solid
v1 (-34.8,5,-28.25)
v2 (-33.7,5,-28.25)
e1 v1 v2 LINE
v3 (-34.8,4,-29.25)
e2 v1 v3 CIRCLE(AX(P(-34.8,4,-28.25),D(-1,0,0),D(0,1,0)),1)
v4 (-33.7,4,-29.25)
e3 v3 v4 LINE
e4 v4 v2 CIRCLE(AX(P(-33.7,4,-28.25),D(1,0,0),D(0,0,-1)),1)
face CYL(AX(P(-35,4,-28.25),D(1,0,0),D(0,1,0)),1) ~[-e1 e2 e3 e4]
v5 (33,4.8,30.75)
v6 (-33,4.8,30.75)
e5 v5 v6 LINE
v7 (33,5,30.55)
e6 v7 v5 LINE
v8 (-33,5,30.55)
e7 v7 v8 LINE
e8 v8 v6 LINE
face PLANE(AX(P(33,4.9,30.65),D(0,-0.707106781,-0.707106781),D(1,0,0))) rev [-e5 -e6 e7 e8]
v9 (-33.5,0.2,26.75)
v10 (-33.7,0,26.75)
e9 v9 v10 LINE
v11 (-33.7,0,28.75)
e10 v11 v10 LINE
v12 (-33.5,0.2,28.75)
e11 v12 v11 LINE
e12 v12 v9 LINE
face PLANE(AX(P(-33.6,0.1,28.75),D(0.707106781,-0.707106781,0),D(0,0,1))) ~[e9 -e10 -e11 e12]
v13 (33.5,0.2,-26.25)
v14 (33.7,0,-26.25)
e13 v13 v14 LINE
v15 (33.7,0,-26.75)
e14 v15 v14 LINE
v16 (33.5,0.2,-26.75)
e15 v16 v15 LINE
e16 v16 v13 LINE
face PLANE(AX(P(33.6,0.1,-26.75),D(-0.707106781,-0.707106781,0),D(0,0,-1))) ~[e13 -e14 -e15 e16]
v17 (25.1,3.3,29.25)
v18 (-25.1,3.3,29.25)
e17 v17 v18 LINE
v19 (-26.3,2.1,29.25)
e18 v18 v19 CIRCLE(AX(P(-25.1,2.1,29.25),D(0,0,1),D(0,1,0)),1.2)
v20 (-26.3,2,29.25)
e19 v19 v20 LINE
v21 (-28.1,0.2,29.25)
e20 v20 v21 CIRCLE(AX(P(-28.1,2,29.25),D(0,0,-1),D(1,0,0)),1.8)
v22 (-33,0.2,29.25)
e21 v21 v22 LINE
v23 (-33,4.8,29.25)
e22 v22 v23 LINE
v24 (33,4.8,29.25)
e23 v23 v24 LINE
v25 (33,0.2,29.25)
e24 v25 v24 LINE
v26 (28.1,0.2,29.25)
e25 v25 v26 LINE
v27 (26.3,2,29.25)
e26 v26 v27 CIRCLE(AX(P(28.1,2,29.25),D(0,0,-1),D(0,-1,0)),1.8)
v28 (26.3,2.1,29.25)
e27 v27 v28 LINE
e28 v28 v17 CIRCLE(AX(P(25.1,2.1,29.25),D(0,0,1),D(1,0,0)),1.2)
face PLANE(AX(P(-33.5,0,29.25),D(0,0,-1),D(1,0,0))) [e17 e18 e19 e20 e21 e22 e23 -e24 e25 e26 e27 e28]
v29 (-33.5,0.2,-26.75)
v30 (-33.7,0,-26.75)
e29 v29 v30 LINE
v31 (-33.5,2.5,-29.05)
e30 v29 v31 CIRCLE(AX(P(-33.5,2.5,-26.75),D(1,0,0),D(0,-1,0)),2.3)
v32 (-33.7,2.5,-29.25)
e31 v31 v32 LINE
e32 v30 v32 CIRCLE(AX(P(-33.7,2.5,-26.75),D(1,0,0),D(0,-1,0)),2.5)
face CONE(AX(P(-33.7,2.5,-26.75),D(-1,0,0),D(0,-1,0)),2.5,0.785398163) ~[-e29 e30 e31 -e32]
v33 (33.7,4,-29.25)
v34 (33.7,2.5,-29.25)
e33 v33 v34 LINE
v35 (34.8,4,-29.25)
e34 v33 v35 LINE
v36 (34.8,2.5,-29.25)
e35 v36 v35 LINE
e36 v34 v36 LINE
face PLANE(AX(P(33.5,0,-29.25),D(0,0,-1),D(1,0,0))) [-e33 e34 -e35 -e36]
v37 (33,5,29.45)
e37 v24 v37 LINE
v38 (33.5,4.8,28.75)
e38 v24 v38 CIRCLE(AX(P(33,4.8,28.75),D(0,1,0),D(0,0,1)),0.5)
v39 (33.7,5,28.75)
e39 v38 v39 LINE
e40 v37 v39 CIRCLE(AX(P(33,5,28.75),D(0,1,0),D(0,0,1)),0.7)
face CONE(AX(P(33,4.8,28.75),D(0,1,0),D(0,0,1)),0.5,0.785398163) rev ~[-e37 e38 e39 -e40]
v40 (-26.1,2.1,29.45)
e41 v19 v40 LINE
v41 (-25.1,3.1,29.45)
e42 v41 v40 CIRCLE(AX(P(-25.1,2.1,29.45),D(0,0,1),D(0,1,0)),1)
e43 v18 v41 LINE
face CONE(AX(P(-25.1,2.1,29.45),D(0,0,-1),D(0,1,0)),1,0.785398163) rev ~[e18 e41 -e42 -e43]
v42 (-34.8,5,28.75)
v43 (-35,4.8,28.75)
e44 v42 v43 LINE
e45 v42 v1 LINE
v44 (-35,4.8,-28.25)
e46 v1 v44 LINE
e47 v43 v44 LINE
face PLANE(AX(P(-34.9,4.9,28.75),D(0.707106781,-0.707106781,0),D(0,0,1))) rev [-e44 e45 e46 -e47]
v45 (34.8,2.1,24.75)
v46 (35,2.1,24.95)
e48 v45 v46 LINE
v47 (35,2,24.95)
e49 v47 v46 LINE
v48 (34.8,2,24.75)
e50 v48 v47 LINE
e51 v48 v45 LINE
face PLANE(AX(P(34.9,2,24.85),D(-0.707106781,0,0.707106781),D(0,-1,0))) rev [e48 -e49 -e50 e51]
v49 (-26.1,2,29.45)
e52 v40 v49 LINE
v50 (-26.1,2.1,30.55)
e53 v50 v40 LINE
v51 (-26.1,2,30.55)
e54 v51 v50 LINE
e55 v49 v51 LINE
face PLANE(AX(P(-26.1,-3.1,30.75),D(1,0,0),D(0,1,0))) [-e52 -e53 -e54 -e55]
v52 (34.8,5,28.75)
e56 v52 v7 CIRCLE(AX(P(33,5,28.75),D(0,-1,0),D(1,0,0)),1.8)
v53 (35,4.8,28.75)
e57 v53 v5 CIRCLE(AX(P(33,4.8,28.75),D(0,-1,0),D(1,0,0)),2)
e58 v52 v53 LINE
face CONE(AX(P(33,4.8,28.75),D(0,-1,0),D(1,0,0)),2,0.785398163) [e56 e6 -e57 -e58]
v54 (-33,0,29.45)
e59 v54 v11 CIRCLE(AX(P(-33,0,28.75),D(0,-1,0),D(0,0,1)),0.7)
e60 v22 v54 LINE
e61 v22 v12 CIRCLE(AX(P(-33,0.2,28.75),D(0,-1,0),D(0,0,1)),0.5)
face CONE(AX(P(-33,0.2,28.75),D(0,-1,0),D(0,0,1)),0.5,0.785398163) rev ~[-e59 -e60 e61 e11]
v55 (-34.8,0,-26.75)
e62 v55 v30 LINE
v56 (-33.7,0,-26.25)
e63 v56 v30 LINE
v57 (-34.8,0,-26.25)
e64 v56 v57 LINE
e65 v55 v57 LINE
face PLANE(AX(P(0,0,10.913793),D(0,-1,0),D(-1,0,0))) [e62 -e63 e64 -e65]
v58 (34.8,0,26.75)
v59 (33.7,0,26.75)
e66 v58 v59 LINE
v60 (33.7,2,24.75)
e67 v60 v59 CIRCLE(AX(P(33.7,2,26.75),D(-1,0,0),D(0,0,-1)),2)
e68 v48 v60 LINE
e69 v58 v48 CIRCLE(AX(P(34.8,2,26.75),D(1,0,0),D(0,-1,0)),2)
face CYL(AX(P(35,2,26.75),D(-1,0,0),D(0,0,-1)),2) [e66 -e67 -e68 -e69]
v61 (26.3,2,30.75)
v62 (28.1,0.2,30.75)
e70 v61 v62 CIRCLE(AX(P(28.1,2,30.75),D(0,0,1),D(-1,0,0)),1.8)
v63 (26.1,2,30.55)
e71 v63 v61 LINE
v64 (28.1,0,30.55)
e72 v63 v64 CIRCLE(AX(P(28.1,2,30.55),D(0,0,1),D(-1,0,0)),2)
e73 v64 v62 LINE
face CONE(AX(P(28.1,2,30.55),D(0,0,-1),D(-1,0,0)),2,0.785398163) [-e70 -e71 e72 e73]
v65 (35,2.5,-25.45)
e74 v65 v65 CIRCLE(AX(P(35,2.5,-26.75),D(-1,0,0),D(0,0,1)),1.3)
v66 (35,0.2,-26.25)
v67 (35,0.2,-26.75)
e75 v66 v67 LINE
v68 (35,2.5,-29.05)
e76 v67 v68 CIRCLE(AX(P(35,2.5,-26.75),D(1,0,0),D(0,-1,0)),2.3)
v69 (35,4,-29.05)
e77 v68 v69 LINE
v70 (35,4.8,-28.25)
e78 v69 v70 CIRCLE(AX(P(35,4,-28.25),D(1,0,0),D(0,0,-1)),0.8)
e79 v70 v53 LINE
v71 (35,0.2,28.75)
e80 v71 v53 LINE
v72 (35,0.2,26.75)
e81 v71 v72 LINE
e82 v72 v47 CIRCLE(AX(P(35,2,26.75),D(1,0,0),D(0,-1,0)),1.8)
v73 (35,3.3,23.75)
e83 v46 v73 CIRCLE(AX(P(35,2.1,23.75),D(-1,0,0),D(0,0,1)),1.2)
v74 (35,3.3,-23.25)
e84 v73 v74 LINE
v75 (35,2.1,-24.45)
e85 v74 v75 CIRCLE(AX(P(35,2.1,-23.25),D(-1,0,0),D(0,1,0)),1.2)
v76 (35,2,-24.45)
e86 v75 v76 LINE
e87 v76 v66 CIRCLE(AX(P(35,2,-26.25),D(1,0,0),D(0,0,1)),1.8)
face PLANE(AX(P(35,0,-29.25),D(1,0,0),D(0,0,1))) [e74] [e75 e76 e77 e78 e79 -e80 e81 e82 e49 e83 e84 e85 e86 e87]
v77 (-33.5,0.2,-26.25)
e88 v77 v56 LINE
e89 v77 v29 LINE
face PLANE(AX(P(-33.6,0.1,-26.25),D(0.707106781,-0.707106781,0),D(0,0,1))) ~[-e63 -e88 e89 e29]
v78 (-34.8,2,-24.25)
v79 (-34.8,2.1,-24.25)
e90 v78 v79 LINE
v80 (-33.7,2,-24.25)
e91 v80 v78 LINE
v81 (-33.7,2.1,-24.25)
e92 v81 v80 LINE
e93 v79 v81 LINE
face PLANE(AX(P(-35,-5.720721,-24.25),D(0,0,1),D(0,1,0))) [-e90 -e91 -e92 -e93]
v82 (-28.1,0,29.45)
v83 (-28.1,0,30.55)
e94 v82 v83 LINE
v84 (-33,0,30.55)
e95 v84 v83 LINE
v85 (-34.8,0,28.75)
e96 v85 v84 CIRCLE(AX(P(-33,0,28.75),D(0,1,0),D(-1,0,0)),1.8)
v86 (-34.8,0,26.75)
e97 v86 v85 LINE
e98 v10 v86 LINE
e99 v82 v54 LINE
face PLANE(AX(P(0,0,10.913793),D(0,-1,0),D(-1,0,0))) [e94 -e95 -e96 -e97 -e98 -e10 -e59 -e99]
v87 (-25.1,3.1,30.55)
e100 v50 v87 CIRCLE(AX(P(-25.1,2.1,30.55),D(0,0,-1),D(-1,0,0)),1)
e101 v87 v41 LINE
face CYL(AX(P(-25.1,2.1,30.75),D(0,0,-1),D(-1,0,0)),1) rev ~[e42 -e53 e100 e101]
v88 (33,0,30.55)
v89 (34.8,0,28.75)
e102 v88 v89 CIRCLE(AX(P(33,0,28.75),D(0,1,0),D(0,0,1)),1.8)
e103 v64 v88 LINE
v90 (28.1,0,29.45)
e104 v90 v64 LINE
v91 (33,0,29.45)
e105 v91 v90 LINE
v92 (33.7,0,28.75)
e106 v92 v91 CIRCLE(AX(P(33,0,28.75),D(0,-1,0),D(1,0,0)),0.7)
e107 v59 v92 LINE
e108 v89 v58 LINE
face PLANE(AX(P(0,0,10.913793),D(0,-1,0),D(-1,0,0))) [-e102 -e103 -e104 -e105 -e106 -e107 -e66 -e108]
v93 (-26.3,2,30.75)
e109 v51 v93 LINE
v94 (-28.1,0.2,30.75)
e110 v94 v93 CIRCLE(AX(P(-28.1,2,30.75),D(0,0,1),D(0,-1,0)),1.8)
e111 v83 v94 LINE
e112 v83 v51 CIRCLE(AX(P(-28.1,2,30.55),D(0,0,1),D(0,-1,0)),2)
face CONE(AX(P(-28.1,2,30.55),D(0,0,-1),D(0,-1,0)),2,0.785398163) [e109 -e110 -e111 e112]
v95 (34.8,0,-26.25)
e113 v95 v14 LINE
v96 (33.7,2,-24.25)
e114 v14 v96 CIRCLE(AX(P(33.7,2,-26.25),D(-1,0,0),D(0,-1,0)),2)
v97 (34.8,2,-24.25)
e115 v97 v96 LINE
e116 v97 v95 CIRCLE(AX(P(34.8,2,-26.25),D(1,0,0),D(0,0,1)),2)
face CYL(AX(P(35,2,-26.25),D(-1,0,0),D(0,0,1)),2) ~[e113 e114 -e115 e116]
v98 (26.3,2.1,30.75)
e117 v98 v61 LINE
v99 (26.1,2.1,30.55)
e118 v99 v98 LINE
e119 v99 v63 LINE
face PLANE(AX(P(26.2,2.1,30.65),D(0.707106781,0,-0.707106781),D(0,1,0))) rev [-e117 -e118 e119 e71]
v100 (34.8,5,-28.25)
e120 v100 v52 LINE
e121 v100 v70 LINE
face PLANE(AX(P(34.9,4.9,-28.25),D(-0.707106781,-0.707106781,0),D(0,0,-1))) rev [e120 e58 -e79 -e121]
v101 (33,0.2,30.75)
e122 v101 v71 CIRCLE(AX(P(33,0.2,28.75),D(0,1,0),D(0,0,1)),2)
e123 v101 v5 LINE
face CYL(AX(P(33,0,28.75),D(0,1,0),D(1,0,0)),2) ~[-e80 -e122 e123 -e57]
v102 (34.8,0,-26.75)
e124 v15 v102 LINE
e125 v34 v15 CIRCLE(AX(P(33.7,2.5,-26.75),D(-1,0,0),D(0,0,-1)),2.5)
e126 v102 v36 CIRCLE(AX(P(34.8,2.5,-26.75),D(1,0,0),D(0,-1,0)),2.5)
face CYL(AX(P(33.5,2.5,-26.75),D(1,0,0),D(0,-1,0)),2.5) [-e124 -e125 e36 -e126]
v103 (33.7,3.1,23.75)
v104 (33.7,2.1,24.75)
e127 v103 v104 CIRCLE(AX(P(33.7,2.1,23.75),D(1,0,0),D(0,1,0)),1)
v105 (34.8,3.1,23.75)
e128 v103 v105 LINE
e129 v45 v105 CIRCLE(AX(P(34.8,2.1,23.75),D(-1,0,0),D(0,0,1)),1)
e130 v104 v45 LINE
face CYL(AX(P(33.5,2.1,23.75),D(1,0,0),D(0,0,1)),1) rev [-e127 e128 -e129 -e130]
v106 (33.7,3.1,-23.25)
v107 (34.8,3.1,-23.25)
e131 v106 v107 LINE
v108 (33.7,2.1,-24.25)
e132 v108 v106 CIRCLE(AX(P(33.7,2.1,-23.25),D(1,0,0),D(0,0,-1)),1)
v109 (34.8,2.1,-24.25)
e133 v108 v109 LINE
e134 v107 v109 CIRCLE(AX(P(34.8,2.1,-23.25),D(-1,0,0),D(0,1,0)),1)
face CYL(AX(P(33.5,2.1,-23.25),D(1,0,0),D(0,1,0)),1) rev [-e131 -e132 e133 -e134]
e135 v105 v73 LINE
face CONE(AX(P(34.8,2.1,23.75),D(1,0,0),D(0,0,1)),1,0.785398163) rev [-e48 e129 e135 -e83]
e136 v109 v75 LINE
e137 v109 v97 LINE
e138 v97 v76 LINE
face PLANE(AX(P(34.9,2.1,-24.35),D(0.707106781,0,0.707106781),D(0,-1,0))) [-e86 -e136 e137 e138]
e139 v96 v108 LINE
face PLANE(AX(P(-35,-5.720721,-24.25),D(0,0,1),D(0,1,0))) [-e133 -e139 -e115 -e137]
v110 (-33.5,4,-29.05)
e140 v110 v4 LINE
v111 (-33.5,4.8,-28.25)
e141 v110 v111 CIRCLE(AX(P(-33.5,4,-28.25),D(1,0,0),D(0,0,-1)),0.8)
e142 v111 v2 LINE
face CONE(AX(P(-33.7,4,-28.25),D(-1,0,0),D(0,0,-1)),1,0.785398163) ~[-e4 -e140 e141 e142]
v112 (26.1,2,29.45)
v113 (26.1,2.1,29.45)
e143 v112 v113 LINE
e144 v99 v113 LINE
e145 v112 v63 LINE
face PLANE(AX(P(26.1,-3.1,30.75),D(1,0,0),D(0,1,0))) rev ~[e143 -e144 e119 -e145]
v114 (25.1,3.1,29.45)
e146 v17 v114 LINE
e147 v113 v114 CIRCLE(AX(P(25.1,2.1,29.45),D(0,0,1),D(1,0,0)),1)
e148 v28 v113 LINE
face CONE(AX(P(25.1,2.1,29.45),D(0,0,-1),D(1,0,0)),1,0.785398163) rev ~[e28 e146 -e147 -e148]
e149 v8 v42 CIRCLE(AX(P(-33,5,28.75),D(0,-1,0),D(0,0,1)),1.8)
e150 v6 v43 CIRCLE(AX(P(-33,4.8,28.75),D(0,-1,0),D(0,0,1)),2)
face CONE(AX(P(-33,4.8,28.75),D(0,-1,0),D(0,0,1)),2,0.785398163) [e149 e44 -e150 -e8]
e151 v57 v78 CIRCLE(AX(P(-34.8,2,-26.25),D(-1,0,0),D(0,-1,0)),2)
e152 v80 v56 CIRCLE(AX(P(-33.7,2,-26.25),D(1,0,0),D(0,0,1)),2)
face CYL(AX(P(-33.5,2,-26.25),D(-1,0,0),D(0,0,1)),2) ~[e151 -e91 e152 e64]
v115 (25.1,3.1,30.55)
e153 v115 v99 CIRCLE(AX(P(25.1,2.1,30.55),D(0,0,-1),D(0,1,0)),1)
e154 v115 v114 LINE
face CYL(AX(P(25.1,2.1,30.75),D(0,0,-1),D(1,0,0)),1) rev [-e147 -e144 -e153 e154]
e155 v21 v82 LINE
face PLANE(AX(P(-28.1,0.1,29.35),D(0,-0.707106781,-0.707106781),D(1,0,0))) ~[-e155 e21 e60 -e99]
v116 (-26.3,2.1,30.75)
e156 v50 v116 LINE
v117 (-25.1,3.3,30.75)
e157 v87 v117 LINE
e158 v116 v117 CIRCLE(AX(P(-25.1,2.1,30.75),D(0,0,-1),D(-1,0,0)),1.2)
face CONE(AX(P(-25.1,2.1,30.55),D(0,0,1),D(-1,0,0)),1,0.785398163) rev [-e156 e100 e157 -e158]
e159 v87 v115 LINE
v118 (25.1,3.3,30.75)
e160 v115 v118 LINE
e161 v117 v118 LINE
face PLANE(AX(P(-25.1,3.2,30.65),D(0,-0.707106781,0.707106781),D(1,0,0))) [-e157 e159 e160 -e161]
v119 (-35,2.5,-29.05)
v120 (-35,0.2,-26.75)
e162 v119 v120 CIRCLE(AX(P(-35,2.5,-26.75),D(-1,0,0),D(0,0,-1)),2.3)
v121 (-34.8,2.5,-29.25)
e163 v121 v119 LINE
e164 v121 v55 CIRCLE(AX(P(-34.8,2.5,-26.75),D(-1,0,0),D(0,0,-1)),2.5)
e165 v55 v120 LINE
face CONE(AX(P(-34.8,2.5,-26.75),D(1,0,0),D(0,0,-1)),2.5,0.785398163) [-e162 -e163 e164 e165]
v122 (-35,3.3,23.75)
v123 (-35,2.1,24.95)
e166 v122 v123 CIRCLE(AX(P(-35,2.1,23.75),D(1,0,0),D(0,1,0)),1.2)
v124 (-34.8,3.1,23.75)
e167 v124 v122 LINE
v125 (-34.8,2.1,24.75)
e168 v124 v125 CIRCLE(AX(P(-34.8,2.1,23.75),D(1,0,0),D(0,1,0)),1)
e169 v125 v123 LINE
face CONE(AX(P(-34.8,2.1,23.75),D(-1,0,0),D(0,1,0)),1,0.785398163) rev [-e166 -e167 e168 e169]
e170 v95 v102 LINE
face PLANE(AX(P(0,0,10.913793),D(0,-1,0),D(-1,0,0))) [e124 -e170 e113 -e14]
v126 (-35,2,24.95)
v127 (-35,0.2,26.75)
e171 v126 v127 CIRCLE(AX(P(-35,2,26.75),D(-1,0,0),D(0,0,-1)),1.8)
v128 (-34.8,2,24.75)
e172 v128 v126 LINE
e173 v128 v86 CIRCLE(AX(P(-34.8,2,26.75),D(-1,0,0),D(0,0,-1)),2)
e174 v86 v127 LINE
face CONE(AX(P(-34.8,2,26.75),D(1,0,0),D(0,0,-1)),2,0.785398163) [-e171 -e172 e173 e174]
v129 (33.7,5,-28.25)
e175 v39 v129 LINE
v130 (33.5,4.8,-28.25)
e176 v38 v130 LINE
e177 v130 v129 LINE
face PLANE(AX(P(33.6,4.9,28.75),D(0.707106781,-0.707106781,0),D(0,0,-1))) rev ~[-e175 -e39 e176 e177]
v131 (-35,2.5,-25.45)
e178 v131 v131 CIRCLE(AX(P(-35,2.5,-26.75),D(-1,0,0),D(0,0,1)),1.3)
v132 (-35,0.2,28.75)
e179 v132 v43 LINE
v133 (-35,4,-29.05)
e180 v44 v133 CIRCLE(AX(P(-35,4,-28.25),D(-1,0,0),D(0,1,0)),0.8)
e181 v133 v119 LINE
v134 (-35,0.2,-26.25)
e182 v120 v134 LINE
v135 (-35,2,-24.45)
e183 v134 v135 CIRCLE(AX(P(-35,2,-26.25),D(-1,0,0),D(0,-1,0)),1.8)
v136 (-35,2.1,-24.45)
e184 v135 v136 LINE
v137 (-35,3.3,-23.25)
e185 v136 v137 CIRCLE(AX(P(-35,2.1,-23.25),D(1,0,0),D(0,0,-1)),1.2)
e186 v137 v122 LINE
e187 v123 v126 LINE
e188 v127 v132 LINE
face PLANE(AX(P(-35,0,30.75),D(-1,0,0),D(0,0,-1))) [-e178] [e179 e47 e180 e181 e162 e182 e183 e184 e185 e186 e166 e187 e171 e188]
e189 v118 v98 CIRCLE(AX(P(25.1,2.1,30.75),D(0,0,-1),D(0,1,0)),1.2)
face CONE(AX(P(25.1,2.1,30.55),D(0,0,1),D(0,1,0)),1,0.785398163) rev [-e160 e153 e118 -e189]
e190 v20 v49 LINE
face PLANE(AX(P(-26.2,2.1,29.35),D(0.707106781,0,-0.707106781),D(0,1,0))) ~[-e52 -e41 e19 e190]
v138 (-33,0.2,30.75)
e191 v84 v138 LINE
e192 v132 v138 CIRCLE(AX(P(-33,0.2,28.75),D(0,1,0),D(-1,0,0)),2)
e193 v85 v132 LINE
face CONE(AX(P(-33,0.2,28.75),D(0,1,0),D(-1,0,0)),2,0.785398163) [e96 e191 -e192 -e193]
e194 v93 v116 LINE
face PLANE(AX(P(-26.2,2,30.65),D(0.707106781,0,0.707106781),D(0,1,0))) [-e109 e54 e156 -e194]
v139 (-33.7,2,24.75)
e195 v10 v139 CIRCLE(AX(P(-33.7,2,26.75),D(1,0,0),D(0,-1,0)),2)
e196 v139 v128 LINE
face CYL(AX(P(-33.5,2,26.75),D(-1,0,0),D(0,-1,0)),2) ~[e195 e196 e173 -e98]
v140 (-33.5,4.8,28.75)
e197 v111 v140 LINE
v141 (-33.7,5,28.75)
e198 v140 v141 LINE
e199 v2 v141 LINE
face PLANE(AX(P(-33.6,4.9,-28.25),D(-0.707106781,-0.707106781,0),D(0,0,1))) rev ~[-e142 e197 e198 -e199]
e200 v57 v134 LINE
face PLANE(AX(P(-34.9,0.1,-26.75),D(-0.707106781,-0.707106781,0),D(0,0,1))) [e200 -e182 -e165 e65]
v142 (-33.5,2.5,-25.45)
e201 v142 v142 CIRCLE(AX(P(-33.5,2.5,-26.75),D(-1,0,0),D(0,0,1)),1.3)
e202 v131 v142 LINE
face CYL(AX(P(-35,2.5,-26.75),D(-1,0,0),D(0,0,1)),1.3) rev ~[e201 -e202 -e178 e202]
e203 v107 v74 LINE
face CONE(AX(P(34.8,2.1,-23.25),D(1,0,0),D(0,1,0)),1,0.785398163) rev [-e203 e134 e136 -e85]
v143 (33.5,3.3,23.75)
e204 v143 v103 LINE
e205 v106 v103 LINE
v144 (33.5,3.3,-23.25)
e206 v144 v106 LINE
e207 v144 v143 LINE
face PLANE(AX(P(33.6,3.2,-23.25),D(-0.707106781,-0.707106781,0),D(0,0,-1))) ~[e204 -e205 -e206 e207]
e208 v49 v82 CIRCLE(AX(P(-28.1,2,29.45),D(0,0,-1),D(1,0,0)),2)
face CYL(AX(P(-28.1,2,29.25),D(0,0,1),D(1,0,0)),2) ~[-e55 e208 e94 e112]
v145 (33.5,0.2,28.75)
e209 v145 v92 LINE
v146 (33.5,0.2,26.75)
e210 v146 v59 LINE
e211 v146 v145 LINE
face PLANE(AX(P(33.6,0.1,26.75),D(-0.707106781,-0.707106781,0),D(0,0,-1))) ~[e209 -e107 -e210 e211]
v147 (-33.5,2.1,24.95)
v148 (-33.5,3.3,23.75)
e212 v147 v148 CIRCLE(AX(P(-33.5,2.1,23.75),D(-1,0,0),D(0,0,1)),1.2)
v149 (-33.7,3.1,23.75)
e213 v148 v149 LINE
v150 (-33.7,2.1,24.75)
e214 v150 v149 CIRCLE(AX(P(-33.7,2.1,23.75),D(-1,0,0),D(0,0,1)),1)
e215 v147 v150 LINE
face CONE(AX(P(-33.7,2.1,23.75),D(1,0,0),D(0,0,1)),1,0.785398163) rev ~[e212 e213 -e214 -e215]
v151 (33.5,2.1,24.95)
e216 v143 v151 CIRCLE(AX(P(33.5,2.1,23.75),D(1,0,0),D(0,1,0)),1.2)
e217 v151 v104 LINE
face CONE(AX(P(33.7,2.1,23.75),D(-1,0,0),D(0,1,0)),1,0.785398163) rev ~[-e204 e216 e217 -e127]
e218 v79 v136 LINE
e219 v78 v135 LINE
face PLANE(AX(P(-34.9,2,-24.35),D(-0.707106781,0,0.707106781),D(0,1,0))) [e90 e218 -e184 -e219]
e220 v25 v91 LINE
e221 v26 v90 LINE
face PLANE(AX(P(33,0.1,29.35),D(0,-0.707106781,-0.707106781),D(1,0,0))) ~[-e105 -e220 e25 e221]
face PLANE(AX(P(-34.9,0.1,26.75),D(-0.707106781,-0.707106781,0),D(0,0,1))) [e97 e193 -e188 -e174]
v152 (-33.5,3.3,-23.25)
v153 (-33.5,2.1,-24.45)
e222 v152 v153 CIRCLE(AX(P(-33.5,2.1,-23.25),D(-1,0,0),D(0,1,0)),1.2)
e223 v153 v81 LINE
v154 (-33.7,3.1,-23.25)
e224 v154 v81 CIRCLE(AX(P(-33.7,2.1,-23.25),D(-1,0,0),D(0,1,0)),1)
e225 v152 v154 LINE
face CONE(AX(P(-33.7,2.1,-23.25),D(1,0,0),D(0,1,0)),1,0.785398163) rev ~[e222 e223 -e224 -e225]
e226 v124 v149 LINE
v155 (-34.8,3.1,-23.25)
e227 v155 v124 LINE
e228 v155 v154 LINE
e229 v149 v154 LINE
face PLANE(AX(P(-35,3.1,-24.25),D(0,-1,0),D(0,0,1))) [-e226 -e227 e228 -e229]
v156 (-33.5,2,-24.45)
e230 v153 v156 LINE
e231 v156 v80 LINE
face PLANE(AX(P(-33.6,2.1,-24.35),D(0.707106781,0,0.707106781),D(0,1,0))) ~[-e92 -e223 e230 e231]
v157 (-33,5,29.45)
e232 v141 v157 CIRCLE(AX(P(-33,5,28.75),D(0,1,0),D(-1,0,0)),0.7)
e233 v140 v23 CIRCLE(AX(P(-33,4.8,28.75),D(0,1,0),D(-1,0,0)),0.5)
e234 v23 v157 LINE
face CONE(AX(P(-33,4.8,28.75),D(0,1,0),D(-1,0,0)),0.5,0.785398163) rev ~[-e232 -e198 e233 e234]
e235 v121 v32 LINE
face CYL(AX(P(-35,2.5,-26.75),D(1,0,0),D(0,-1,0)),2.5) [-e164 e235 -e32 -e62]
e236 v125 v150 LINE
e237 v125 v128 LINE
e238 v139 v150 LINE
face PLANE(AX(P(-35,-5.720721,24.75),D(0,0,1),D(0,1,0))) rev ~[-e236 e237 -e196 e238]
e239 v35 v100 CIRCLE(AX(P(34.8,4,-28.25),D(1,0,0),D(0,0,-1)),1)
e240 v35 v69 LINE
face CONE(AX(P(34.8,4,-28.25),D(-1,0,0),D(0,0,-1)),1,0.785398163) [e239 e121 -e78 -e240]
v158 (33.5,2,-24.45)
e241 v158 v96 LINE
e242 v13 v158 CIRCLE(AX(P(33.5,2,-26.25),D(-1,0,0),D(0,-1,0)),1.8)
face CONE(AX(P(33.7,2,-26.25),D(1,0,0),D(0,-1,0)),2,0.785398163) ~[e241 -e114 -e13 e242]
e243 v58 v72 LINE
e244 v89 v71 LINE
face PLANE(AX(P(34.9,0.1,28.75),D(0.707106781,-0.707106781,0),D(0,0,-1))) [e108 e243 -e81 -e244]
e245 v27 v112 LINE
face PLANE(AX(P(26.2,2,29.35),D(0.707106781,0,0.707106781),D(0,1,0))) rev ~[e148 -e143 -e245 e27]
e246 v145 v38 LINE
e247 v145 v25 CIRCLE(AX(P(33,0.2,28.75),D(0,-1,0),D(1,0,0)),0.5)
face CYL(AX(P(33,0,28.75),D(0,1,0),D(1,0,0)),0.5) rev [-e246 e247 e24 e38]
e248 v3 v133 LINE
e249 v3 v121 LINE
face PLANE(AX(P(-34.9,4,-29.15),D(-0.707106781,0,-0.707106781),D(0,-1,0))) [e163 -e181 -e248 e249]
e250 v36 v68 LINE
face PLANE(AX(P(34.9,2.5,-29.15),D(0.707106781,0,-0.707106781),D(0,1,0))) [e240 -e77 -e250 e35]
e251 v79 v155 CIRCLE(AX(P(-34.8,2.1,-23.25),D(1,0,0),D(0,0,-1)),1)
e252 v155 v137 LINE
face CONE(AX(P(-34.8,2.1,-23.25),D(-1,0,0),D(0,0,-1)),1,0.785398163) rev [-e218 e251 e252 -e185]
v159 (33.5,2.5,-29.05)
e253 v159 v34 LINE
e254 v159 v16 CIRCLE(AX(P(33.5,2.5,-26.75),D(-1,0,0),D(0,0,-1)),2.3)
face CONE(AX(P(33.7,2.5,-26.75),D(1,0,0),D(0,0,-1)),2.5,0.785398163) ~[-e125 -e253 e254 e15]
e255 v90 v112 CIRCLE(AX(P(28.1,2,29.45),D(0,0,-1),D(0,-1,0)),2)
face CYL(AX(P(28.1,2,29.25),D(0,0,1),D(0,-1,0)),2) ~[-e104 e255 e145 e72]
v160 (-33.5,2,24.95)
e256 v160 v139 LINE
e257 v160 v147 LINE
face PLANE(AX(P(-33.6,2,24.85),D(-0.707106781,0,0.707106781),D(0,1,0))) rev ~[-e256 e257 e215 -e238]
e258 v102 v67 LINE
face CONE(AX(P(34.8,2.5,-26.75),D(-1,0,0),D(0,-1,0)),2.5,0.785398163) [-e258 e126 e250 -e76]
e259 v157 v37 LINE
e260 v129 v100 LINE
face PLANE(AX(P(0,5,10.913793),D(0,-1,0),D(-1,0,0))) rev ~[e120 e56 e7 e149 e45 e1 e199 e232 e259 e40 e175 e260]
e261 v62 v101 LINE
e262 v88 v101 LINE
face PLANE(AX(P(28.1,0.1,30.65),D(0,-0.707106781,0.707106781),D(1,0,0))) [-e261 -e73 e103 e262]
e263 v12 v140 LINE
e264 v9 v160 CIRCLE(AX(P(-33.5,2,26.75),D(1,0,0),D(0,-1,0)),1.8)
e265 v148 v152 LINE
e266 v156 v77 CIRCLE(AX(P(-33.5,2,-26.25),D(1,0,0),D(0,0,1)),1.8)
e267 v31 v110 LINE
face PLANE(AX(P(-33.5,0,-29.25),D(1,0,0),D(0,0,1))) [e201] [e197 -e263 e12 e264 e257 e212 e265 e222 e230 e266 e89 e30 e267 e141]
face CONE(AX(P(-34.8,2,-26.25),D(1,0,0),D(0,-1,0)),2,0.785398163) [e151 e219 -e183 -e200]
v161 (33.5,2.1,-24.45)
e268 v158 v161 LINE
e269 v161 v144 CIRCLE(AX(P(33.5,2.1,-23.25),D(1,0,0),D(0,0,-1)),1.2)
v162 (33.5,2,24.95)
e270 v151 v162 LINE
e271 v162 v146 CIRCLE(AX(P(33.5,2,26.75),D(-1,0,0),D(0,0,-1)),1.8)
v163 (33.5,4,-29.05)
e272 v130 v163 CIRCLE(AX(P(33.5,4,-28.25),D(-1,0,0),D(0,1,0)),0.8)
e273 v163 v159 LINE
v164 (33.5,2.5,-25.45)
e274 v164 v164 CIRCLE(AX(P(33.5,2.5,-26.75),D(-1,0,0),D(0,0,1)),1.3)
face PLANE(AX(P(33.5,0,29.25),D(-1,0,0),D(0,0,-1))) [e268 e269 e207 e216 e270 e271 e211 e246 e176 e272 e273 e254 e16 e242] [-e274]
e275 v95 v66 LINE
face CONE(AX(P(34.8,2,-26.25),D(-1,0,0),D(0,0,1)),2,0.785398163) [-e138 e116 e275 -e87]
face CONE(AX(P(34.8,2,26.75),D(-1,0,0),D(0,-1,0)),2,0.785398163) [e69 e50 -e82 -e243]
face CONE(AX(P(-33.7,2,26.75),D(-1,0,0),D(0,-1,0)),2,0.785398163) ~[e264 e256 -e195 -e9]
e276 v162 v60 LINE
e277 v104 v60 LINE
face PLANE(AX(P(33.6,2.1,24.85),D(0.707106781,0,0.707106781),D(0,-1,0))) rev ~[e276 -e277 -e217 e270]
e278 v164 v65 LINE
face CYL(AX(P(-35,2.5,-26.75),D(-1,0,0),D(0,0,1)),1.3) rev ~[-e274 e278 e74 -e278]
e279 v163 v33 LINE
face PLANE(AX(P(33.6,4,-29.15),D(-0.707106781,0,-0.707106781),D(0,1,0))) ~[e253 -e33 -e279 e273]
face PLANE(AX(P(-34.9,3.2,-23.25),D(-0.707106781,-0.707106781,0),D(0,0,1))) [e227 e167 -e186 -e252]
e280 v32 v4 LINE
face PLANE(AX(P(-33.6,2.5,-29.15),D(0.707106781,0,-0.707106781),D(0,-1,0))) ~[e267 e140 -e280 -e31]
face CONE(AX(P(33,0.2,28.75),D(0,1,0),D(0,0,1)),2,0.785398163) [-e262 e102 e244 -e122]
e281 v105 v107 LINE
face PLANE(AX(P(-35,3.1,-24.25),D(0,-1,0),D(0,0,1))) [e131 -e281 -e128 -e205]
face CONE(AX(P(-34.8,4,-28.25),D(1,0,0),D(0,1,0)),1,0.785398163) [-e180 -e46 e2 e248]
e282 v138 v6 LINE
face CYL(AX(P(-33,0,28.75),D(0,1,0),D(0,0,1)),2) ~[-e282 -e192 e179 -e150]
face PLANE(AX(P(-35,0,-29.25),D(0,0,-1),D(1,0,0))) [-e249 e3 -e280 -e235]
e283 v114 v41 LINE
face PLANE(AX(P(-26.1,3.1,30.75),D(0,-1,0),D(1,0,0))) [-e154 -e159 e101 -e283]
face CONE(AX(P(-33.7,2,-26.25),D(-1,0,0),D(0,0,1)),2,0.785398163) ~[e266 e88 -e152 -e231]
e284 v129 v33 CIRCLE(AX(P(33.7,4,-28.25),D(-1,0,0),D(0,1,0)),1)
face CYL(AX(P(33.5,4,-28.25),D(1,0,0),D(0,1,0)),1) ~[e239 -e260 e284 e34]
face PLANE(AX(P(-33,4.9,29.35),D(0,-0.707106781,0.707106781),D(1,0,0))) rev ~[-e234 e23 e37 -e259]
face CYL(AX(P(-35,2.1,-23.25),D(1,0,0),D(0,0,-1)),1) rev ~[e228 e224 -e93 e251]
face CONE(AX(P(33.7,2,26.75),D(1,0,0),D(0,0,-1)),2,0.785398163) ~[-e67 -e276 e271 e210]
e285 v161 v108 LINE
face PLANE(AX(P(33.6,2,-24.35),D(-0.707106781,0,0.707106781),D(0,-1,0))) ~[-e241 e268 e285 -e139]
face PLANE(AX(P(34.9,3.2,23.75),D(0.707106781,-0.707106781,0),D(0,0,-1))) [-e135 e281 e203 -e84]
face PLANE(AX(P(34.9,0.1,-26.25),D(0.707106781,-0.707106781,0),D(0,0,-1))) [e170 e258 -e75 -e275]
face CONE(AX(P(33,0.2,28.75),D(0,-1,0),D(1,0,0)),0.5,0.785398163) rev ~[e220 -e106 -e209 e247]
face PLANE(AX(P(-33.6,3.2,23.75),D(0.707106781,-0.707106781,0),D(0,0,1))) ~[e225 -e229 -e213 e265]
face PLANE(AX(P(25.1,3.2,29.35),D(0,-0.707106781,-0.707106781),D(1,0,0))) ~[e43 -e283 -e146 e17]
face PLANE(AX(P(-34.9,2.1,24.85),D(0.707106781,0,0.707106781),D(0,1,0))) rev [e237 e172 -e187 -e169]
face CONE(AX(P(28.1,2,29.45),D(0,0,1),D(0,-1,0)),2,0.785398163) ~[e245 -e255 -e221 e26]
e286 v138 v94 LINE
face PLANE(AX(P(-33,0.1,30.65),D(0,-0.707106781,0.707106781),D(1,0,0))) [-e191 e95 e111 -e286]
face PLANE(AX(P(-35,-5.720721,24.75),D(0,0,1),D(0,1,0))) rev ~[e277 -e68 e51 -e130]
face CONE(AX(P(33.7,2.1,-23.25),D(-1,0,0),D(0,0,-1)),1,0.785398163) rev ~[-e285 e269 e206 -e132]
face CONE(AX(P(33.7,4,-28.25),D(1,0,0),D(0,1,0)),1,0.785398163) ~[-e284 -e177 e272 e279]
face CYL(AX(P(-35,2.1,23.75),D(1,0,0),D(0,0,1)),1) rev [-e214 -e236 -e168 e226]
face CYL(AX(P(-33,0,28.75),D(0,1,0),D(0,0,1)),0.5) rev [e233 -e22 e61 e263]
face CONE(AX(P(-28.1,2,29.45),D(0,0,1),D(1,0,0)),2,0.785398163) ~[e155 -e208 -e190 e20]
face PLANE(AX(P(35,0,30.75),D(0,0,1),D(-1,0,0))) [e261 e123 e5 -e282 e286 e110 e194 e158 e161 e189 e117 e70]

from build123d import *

# Parameters (mm, degrees)
EXTRUDE_1_DEPTH     = 5
FILLET_1_R          = 2
FILLET_2_R          = 0.5
FILLET_3_R          = 2.5
SKETCH_2_R          = 1.3
CUT_EXTRUDE_1_DEPTH = 100
SKETCH_3_W          = 52.2
SKETCH_3_H          = 6.2
CUT_EXTRUDE_2_DEPTH = 5
FILLET_5_R          = 1
SKETCH_4_W          = 49
SKETCH_4_H          = 8.82072143
CUT_EXTRUDE_3_DEPTH = 100
FILLET_6_R          = 1
FILLET_7_R          = 2
CHAMFER_1_SIZE      = 0.2


with BuildPart() as part:
    # 草图1 → 凸台-拉伸1 (new body)
    with BuildSketch(Plane(origin=(0, 0, 0), x_dir=(1, 0, 0), z_dir=(0, 1, 0))):
        Polygon((33.5, 29.25), (35, 29.25), (35, -30.75), (-35, -30.75), (-35, 29.25), (-33.5, 29.25), (-33.5, -29.25), (33.5, -29.25), align=None)
    extrude(amount=EXTRUDE_1_DEPTH)

    # 圆角1
    fillet_1_edges = [part.edges().sort_by_distance(p)[0] for p in [
        (35, 2.5, 30.75),
        (-35, 2.5, 30.75),
    ]]
    fillet(fillet_1_edges, radius=FILLET_1_R)

    # 圆角2
    fillet_2_edges = [part.edges().sort_by_distance(p)[0] for p in [
        (-33.5, 2.5, 29.25),
        (33.5, 2.5, 29.25),
    ]]
    fillet(fillet_2_edges, radius=FILLET_2_R)

    # 圆角3
    fillet_3_edges = [part.edges().sort_by_distance(p)[0] for p in [
        (-34.25, 0, -29.25),
        (34.25, 0, -29.25),
    ]]
    fillet(fillet_3_edges, radius=FILLET_3_R)

    # 草图2 → 切除-拉伸1 (cut)
    with BuildSketch(Plane.ZY.offset(35)):
        with Locations((-26.75, 2.5)):
            Circle(SKETCH_2_R)
    extrude(amount=-CUT_EXTRUDE_1_DEPTH, mode=Mode.SUBTRACT)

    # 草图3 → 切除-拉伸2 (cut)
    with BuildSketch(Plane.XY.offset(30.75)):
        Rectangle(SKETCH_3_W, SKETCH_3_H)
    extrude(amount=-CUT_EXTRUDE_2_DEPTH, mode=Mode.SUBTRACT)

    # 圆角5
    fillet_5_edges = [part.edges().sort_by_distance(p)[0] for p in [
        (-26.1, 3.1, 30),
        (26.1, 3.1, 30),
    ]]
    fillet(fillet_5_edges, radius=FILLET_5_R)

    # 草图4 → 切除-拉伸3 (cut)
    with BuildSketch(Plane.ZY.offset(35)):
        with Locations((0.25, -1.310360715)):
            Rectangle(SKETCH_4_W, SKETCH_4_H)
    extrude(amount=-CUT_EXTRUDE_3_DEPTH, mode=Mode.SUBTRACT)

    # 圆角6
    fillet_6_edges = [part.edges().sort_by_distance(p)[0] for p in [
        (34.25, 3.1, -24.25),
        (-34.25, 3.1, -24.25),
        (34.25, 3.1, 24.75),
        (-34.25, 3.1, 24.75),
        (-34.25, 5, -29.25),
        (34.25, 5, -29.25),
    ]]
    fillet(fillet_6_edges, radius=FILLET_6_R)

    # 圆角7
    fillet_7_edges = [part.edges().sort_by_distance(p)[0] for p in [
        (-34.25, 0, 24.75),
        (-34.25, 0, -24.25),
        (34.25, 0, -24.25),
        (34.25, 0, 24.75),
        (-26.1, 0, 30),
        (26.1, 0, 30),
    ]]
    fillet(fillet_7_edges, radius=FILLET_7_R)

    # 倒角1
    chamfer_1_edges = [part.edges().sort_by_distance(p)[0] for p in [
        (33.5, 5, 0.25),
        (-35, 5, 0.25),
        (-35, 2.05, -24.25),
        (-35, 3.1, 0.25),
        (-35, 3.25, -29.25),
        (-35, 4.707106781, -28.957106781),
        (-33.5, 3.25, -29.25),
        (-33.5, 3.1, 0.25),
        (-33.5, 2.05, -24.25),
        (-33.5, 4.707106781, -28.957106781),
        (33.5, 3.1, 0.25),
        (33.5, 2.05, 24.75),
        (33.5, 3.25, -29.25),
        (33.5, 4.707106781, -28.957106781),
        (35, 3.25, -29.25),
        (35, 3.1, 0.25),
        (35, 2.05, -24.25),
        (35, 4.707106781, -28.957106781),
        (33.5, 2.807106781, -23.957106781),
        (35, 2.807106781, -23.957106781),
        (33.5, 2.807106781, 24.457106781),
        (35, 2.807106781, 24.457106781),
        (-35, 2.807106781, 24.457106781),
        (-33.5, 2.807106781, 24.457106781),
        (-35, 2.807106781, -23.957106781),
        (-33.5, 2.807106781, -23.957106781),
        (35, 0, -26.5),
        (33.5, 2.05, -24.25),
        (33.5, 0, 27.75),
        (33.5, 0.585786438, 25.335786438),
        (33.5, 0.585786438, -24.835786438),
        (35, 2.05, 24.75),
        (35, 0.585786438, 25.335786438),
        (35, 0.585786438, -24.835786438),
        (-33.5, 0, -26.5),
        (-35, 2.05, 24.75),
        (-35, 0, 27.75),
        (-35, 0.585786438, 25.335786438),
        (-35, 0.585786438, -24.835786438),
        (-33.5, 2.05, 24.75),
        (-33.5, 0.585786438, 25.335786438),
        (-33.5, 0.585786438, -24.835786438),
        (-30.55, 0, 29.25),
        (26.1, 2.05, 30.75),
        (30.55, 0, 30.75),
        (26.685786438, 0.585786438, 30.75),
        (-26.685786438, 0.585786438, 30.75),
        (26.1, 2.05, 29.25),
        (26.685786438, 0.585786438, 29.25),
        (-26.685786438, 0.585786438, 29.25),
        (35, 0, 27.75),
        (35, 5, 0.25),
        (-30.55, 0, 30.75),
        (-34.414213562, 0, 30.164213562),
        (34.414213562, 0, 30.164213562),
        (0, 5, 30.75),
        (-34.414213562, 5, 30.164213562),
        (34.414213562, 5, 30.164213562),
        (30.55, 0, 29.25),
        (0, 5, 29.25),
        (-33.5, 0, 27.75),
        (-33.5, 5, 0.25),
        (33.353553391, 0, 29.103553391),
        (33.353553391, 5, 29.103553391),
        (-33.353553391, 0, 29.103553391),
        (-33.353553391, 5, 29.103553391),
        (33.5, 0, -26.5),
        (33.5, 0.732233047, -28.517766953),
        (-35, 0, -26.5),
        (35, 0.732233047, -28.517766953),
        (-35, 0.732233047, -28.517766953),
        (-33.5, 0.732233047, -28.517766953),
        (0, 3.1, 30.75),
        (0, 3.1, 29.25),
        (-26.1, 2.05, 30.75),
        (-26.1, 2.05, 29.25),
        (25.807106781, 2.807106781, 30.75),
        (25.807106781, 2.807106781, 29.25),
        (-25.807106781, 2.807106781, 30.75),
        (-25.807106781, 2.807106781, 29.25),
    ]]
    chamfer(chamfer_1_edges, length=CHAMFER_1_SIZE)


solid = part.part
